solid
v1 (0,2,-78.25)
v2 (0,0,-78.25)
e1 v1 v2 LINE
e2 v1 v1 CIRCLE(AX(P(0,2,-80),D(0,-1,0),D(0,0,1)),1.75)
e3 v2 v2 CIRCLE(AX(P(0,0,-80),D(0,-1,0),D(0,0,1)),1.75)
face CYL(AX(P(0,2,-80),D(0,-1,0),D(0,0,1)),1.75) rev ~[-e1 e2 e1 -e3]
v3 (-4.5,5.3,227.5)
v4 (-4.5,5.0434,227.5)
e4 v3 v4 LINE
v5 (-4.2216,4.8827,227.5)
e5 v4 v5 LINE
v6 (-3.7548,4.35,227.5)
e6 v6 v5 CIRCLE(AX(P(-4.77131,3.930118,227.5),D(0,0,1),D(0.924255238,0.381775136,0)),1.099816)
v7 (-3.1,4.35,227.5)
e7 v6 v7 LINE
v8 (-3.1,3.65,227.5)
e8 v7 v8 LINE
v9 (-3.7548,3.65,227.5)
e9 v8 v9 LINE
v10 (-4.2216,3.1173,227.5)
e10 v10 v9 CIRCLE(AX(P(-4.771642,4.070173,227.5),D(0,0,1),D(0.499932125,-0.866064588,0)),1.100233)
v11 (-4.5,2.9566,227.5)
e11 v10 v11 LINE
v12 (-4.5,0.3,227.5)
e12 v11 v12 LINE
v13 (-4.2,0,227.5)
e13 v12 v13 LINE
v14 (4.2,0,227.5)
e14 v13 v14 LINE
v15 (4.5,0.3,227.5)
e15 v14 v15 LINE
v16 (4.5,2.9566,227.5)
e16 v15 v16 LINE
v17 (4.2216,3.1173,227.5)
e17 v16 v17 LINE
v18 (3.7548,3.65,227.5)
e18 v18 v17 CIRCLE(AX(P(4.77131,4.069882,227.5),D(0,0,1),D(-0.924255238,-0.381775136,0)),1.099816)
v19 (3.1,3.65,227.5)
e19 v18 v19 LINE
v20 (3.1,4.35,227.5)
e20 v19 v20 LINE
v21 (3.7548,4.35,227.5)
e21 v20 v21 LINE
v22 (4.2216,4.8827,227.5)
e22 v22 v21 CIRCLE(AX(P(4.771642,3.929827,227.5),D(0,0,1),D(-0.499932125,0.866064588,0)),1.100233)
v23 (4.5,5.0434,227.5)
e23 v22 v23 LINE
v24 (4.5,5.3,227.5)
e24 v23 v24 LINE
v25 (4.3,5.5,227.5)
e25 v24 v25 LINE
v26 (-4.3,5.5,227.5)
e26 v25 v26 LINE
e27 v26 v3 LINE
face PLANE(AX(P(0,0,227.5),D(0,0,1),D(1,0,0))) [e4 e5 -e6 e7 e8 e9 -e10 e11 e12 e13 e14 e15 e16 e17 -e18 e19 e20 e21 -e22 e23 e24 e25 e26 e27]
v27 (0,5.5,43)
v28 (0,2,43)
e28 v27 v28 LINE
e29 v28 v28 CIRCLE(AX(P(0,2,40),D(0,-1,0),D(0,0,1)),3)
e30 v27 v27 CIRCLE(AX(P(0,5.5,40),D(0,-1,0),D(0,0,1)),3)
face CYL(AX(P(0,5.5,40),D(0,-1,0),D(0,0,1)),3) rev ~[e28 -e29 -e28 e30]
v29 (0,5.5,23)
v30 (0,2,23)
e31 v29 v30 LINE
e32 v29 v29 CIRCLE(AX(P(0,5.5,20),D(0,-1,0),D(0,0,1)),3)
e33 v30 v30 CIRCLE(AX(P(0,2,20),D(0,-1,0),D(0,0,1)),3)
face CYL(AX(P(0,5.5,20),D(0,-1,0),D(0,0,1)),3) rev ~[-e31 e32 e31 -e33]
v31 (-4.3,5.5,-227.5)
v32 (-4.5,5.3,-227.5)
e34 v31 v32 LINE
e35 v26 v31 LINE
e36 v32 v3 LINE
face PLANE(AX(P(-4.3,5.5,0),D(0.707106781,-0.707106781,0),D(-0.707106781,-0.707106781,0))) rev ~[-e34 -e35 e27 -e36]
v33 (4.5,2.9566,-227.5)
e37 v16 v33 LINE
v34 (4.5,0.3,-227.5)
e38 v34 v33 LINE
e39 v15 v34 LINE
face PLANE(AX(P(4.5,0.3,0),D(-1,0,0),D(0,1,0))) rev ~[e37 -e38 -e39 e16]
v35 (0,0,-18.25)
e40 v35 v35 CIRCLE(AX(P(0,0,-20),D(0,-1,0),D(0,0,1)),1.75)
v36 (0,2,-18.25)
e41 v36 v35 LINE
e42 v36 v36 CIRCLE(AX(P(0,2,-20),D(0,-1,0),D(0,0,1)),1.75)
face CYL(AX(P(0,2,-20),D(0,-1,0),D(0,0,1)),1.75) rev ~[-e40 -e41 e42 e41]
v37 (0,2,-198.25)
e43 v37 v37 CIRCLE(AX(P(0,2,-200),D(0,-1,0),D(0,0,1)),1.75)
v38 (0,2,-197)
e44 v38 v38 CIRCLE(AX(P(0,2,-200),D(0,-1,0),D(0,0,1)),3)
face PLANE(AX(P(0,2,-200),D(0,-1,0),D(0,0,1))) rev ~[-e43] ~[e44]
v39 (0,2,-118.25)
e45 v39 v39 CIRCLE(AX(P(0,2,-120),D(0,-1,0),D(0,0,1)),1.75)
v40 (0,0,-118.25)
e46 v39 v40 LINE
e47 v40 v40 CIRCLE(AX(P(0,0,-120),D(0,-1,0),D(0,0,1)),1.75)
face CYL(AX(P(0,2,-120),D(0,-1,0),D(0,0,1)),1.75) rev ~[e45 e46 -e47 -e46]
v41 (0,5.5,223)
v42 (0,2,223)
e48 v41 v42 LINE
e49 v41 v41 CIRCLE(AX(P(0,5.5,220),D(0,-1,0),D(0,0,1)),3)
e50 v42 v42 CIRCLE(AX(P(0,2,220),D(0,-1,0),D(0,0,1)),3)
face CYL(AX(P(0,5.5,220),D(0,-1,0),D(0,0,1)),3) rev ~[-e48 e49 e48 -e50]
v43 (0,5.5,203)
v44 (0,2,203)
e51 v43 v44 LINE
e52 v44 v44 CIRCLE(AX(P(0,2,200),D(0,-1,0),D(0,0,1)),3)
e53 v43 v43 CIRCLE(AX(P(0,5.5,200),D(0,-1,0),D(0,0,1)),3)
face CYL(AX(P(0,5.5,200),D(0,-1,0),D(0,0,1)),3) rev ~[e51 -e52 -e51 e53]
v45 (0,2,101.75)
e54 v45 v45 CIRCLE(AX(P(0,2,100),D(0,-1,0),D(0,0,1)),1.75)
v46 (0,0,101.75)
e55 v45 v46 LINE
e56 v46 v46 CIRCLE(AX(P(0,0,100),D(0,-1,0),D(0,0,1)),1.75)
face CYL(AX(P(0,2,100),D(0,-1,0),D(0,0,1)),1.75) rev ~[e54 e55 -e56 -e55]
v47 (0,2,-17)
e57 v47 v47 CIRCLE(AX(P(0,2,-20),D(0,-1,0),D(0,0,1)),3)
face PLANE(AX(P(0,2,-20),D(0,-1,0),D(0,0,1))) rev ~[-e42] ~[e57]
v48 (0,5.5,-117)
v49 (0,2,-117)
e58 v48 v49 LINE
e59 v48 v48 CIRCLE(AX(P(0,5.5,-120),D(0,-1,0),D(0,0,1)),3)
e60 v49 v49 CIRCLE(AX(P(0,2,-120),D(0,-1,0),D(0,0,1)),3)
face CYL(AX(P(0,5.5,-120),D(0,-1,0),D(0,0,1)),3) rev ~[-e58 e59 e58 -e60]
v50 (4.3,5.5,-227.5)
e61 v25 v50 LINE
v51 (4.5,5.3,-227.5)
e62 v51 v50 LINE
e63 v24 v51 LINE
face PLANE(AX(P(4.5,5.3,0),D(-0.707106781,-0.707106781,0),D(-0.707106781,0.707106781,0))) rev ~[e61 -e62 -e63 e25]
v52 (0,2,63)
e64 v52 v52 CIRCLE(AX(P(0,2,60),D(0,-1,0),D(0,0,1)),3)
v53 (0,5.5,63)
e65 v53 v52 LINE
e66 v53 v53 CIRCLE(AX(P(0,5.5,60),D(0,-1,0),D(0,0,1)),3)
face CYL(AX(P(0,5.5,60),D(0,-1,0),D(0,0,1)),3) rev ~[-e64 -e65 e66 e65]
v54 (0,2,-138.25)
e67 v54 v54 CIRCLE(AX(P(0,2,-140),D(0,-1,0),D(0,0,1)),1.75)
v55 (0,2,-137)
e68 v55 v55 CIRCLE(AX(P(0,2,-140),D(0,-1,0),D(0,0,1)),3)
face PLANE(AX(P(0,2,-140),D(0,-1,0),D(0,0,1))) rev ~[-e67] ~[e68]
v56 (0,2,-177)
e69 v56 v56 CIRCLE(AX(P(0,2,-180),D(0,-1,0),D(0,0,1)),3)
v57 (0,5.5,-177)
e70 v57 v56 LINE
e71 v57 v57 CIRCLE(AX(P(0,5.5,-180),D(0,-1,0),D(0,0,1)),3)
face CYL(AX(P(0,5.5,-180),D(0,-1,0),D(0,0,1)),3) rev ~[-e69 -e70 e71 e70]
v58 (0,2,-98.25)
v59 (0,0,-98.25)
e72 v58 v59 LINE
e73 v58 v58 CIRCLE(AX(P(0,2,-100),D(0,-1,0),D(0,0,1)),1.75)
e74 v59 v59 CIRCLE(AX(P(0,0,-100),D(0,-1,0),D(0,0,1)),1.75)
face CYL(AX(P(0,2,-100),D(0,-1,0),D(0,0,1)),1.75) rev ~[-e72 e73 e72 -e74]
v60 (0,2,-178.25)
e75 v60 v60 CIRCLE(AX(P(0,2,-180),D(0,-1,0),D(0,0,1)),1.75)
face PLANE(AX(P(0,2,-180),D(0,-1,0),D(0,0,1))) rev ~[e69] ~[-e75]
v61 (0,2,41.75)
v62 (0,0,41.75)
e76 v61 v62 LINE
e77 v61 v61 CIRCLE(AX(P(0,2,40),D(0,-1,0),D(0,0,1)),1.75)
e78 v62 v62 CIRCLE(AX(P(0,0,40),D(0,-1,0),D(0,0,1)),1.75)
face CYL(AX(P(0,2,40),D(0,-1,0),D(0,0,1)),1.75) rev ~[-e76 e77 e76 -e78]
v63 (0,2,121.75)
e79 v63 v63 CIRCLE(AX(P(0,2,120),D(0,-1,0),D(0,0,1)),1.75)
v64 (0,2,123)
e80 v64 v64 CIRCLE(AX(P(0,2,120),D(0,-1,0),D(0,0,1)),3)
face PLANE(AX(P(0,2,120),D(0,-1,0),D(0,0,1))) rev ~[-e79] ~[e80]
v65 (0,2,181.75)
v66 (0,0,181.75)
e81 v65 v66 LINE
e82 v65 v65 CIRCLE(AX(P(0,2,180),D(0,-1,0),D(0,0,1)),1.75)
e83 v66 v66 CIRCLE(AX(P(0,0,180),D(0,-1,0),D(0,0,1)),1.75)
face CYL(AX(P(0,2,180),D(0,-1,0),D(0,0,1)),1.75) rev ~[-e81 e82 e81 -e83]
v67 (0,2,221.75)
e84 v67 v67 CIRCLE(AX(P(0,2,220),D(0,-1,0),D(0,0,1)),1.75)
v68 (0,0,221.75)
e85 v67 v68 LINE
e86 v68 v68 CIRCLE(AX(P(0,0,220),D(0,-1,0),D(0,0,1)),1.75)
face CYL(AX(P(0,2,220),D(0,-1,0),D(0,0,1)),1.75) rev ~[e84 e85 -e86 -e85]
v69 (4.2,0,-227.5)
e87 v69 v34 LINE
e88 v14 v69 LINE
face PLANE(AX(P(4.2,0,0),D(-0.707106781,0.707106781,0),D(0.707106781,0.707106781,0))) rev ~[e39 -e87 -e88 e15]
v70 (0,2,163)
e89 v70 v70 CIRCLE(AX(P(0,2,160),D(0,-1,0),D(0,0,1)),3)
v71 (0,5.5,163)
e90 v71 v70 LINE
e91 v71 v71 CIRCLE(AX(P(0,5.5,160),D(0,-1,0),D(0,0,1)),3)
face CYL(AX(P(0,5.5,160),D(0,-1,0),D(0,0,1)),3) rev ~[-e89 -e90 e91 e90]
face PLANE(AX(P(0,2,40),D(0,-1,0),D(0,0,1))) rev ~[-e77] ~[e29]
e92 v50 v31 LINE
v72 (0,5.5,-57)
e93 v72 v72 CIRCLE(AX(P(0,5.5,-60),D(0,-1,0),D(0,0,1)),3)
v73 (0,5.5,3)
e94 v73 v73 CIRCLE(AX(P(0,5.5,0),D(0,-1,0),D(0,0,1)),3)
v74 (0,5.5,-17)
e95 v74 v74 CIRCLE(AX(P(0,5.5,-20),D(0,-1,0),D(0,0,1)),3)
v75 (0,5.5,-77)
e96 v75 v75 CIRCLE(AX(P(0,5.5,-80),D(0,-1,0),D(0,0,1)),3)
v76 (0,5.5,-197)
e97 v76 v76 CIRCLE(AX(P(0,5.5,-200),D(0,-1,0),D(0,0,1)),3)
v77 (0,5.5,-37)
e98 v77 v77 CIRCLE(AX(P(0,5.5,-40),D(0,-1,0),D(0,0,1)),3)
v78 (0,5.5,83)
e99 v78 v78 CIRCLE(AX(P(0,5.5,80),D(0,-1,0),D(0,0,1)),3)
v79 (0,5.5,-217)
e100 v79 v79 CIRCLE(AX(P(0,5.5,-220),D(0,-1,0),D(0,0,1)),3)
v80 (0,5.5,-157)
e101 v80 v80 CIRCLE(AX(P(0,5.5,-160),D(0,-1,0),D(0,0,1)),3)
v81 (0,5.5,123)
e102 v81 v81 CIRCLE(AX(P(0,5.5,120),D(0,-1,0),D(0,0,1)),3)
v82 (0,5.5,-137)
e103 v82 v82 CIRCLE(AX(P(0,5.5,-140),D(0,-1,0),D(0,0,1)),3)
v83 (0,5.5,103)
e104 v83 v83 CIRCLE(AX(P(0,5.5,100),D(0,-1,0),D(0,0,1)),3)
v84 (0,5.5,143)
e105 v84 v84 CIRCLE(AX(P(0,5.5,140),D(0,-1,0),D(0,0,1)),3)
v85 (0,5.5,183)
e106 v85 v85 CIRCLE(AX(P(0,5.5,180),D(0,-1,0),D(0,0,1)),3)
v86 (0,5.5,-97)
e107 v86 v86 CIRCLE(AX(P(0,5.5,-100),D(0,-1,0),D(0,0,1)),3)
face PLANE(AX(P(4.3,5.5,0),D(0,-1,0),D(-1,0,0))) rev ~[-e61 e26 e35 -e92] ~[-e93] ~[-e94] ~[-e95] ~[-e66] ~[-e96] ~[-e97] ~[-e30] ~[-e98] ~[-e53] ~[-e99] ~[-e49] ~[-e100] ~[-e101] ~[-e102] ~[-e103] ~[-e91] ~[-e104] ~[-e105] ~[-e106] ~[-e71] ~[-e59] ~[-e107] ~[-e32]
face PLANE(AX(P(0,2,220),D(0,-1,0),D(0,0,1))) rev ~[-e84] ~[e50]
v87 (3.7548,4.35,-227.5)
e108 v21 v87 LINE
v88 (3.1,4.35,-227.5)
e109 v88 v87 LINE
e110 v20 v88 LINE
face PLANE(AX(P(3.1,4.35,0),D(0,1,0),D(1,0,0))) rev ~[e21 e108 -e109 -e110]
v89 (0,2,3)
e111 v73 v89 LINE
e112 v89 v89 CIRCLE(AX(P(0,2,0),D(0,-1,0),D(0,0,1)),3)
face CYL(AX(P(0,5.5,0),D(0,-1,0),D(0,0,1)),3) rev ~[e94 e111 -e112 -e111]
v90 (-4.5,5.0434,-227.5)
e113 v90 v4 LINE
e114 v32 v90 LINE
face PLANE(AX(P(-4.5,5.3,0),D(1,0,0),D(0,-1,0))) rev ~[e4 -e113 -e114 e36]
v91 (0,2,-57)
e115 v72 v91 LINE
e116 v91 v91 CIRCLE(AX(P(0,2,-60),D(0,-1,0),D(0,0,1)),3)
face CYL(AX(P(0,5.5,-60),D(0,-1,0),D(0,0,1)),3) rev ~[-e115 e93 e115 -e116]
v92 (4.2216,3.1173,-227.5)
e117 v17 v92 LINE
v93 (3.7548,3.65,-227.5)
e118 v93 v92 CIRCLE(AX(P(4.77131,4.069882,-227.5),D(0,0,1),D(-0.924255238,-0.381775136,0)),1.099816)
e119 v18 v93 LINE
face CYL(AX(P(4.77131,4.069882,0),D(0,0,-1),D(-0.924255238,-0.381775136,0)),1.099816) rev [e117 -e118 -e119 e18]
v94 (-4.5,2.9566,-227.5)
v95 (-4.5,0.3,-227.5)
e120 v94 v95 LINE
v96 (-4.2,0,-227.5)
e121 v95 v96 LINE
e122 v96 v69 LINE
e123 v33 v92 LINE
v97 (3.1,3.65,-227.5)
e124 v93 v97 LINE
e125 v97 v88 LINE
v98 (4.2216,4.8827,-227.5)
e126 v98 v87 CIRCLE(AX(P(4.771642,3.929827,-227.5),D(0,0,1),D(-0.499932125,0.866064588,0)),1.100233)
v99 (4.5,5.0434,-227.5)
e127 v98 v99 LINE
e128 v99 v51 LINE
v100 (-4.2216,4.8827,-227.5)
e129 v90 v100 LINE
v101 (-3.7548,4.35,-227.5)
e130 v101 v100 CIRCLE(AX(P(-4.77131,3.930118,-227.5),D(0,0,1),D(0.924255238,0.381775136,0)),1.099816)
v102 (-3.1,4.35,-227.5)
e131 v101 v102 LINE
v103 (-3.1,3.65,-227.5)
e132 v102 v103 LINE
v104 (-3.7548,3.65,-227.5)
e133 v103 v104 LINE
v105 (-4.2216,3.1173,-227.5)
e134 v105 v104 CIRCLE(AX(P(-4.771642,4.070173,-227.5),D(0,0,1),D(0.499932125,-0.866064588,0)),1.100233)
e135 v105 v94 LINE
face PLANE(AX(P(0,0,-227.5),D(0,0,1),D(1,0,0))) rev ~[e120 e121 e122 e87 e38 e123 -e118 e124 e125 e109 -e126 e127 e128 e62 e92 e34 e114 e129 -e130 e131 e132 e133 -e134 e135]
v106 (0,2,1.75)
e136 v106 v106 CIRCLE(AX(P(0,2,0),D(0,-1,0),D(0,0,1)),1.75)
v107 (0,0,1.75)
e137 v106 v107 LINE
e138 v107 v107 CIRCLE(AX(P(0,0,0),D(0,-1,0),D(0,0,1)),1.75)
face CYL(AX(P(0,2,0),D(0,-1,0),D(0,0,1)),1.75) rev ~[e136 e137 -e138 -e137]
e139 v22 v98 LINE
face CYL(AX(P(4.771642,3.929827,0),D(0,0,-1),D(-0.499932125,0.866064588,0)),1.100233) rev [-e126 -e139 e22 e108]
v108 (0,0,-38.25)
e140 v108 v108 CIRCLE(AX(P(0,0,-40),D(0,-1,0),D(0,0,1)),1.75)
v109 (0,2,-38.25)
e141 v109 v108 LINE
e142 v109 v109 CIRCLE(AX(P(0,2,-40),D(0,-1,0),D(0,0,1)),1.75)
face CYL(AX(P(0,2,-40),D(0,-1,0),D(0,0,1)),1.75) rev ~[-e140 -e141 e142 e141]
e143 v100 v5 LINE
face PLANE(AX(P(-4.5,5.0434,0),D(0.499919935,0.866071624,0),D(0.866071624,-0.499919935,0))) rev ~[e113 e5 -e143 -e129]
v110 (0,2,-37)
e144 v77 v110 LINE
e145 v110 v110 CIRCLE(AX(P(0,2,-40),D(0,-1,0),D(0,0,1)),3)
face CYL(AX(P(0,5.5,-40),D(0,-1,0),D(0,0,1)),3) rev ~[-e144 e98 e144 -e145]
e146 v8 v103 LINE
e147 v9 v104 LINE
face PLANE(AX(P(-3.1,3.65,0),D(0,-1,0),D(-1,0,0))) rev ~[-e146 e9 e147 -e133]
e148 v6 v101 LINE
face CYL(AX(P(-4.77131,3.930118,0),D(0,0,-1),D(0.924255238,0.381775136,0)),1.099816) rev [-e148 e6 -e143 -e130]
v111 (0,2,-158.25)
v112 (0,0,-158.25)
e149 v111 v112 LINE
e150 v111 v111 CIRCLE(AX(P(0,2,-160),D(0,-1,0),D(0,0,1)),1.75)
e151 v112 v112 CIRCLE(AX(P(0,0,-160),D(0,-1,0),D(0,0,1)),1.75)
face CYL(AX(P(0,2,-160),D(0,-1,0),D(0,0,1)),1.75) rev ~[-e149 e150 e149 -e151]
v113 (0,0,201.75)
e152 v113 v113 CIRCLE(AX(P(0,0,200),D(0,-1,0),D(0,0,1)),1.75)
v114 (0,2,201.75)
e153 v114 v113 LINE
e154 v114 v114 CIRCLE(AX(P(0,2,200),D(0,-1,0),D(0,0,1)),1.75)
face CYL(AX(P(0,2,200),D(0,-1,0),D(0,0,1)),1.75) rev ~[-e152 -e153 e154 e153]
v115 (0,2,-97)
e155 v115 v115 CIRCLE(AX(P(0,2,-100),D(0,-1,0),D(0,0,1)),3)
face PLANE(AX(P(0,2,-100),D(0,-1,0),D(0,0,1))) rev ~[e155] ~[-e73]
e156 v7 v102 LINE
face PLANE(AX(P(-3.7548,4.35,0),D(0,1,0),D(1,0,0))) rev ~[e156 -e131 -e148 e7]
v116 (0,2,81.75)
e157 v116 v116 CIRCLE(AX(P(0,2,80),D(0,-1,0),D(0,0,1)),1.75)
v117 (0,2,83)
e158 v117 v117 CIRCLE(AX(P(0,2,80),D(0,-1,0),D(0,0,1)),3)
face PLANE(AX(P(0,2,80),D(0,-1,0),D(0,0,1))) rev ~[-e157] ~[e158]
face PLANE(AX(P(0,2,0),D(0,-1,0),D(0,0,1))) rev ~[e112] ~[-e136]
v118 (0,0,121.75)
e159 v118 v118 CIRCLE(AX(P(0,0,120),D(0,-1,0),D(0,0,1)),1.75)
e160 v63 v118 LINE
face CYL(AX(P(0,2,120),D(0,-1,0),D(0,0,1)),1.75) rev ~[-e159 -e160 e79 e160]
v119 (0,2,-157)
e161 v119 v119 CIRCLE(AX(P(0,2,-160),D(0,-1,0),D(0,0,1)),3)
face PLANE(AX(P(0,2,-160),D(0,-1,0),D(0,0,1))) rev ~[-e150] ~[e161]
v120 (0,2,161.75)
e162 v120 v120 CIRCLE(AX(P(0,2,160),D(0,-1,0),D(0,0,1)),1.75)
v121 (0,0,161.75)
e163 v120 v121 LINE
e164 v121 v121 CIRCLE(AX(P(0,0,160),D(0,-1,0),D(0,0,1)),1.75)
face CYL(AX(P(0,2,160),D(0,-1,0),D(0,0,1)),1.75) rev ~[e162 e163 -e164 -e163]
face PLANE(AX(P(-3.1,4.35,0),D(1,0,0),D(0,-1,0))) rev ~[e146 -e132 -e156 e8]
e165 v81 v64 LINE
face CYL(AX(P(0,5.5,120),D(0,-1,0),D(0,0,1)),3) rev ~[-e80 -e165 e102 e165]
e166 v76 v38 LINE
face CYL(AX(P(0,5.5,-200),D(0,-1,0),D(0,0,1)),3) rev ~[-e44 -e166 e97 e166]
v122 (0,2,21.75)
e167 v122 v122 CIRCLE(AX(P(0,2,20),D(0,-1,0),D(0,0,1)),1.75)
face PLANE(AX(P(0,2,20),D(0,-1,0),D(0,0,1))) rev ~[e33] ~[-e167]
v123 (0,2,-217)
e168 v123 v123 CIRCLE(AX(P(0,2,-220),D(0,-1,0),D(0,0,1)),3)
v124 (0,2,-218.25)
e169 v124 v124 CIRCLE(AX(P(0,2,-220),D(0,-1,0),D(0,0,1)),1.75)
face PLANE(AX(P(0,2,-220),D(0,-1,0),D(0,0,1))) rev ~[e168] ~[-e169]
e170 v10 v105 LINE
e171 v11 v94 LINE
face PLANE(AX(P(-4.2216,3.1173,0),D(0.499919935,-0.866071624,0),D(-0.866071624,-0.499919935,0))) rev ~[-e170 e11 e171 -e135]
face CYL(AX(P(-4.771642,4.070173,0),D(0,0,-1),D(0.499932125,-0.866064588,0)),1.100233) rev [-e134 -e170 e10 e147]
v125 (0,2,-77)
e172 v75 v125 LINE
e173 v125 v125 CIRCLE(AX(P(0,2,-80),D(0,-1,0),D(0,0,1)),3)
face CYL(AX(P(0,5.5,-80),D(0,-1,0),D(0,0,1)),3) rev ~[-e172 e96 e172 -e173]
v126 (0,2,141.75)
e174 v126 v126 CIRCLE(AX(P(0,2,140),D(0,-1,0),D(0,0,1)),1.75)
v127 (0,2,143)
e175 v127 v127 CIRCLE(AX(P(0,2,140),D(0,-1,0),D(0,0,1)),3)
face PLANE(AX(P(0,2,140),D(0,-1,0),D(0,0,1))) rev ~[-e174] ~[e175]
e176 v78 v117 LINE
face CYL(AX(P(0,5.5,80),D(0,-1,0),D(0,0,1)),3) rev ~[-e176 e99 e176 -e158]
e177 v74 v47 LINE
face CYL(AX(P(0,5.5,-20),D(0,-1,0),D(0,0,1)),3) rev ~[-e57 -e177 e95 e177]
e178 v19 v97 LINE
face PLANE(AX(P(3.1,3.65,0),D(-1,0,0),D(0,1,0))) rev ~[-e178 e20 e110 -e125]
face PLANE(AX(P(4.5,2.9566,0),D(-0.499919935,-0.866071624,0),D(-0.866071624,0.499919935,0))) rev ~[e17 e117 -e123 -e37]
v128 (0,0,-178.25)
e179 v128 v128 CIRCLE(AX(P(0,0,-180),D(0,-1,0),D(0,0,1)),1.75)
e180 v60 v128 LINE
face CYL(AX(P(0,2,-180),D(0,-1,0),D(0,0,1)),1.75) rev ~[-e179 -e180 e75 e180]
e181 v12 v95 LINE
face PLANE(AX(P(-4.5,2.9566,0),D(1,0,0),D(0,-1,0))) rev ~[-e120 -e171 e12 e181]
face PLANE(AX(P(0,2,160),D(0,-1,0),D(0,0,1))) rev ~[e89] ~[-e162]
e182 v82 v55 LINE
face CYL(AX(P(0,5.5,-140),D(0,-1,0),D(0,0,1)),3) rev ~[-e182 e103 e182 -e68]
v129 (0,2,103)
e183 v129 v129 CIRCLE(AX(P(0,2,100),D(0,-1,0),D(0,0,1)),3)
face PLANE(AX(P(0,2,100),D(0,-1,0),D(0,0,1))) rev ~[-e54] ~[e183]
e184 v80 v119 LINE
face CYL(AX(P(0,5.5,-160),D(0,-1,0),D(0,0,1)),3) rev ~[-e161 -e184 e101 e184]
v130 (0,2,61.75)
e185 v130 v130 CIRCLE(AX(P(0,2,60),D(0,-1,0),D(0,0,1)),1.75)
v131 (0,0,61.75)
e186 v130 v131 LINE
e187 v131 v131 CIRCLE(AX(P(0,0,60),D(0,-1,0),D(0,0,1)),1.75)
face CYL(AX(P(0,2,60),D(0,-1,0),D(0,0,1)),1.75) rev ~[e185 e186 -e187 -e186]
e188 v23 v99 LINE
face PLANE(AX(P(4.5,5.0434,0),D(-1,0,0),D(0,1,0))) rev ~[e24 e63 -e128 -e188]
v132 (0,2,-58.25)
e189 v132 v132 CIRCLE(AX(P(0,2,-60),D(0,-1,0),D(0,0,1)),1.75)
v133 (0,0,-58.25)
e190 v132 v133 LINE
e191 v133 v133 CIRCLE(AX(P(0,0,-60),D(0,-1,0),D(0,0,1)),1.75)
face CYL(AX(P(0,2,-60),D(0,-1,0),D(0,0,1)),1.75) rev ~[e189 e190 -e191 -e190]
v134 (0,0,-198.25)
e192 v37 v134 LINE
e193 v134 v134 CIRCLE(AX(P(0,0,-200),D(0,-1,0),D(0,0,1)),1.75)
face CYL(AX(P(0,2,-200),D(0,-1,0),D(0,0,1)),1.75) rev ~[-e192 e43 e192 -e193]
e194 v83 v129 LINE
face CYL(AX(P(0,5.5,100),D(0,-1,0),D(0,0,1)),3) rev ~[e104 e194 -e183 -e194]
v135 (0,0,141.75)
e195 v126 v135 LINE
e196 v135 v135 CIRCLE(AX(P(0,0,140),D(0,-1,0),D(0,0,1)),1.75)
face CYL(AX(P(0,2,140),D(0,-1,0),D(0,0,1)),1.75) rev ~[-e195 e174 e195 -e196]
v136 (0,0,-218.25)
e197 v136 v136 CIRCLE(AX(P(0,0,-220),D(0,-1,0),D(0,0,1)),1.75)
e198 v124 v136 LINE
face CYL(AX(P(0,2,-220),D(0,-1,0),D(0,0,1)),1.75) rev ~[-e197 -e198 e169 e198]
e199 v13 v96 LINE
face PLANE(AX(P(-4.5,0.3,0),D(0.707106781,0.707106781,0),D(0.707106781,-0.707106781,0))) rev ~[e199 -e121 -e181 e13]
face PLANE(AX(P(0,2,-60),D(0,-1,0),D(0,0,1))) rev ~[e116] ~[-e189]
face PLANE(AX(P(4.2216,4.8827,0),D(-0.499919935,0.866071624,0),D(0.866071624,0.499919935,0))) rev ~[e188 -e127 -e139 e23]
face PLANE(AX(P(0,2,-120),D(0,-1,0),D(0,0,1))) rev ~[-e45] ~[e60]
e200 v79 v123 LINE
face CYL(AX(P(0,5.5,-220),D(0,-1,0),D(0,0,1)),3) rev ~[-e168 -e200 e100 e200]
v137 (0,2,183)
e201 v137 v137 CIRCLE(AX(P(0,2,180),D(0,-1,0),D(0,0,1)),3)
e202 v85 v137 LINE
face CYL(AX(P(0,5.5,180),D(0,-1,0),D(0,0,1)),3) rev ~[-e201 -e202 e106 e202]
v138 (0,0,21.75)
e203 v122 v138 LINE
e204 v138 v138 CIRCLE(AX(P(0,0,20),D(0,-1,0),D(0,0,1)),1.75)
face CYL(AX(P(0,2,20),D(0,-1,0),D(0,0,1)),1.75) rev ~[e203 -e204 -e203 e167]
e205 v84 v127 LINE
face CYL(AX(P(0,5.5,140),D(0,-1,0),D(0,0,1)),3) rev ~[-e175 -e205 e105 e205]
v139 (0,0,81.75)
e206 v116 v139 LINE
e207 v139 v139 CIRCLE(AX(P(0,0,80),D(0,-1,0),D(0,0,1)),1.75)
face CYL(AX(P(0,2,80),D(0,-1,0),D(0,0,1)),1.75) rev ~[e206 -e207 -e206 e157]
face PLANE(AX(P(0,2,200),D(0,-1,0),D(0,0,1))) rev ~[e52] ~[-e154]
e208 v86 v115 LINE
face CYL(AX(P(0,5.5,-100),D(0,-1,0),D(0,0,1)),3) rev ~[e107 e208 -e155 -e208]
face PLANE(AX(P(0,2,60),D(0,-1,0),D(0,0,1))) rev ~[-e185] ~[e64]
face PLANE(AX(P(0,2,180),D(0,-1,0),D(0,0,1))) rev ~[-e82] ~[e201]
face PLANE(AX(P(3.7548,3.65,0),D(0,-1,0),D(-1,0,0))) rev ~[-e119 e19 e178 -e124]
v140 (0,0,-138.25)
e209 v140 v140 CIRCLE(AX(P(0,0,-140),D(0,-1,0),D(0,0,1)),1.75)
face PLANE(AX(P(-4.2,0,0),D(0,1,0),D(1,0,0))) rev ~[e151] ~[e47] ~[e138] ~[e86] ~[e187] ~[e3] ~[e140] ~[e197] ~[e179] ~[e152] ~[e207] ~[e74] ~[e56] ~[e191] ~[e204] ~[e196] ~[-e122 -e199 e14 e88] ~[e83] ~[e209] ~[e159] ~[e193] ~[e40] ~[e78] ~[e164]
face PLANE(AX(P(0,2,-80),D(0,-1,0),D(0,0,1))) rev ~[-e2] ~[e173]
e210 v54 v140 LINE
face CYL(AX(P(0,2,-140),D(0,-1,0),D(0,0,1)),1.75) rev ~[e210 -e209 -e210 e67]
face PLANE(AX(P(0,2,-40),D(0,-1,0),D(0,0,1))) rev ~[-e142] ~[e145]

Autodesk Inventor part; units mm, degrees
sketch "Sketch_12" plane through (0, 0, 0) normal (0, 0, 1) x (1, 0, 0)
  line L0 (-4.5, 5.3) -> (-4.5, 5.0434)
  line L1 (-4.5, 5.0434) -> (-4.2216, 4.8827)
  arc A0 (-3.7548, 4.35) -> (-4.2216, 4.8827) centre (-4.7715, 3.93) ccw
  line L2 (-3.7548, 4.35) -> (-3.1, 4.35)
  line L3 (-3.1, 4.35) -> (-3.1, 3.65)
  line L4 (-3.1, 3.65) -> (-3.7548, 3.65)
  arc A1 (-4.2216, 3.1173) -> (-3.7548, 3.65) centre (-4.7715, 4.07) ccw
  line L5 (-4.2216, 3.1173) -> (-4.5, 2.9566)
  line L6 (-4.5, 2.9566) -> (-4.5, 0.3)
  line L7 (-4.5, 0.3) -> (-4.2, 0)
  line L8 (-4.2, 0) -> (4.2, 0)
  line L9 (4.2, 0) -> (4.5, 0.3)
  line L10 (4.5, 0.3) -> (4.5, 2.9566)
  line L11 (4.5, 2.9566) -> (4.2216, 3.1173)
  arc A2 (3.7548, 3.65) -> (4.2216, 3.1173) centre (4.7715, 4.07) ccw
  line L12 (3.7548, 3.65) -> (3.1, 3.65)
  line L13 (3.1, 3.65) -> (3.1, 4.35)
  line L14 (3.1, 4.35) -> (3.7548, 4.35)
  arc A3 (4.2216, 4.8827) -> (3.7548, 4.35) centre (4.7715, 3.93) ccw
  line L15 (4.2216, 4.8827) -> (4.5, 5.0434)
  line L16 (4.5, 5.0434) -> (4.5, 5.3)
  line L17 (4.5, 5.3) -> (4.3, 5.5)
  line L18 (4.3, 5.5) -> (-4.3, 5.5)
  line L19 (-4.3, 5.5) -> (-4.5, 5.3)
extrude "Extrusion1" add sketch "Sketch_12" along normal mid plane 455
sketch "Sketch2" plane through (-4.3, 5.5, 227.5) normal (0, 1, 0) x (1, 0, 0)
  point P0 (4.3, 447.5)
hole "Hole1" at (0, 5.5, -220) direction (0, -1, 0) diameter 3.5 depth 5.5 counterbore diameter 6 counterbore depth 3.5
pattern_linear "Rectangular Pattern1" count 23 spacing 20 along (0, 0, 1) of "Hole1"
ref_plane "rail_to_adjusting_block_XY" through (0, 0, -220) normal (0, 1, 0) x (1, 0, 0)
ref_plane "rail_to_adjusting_block_YZ" through (0, 0, -220) normal (1, 0, 0) x (0, 0, -1)
ref_plane "rail_to_adjusting_block_ZX" through (0, 0, -220) normal (0, 0, -1) x (0, 1, 0)
ref_plane "to_block_XY" through (0, 5.5, 113.75) normal (0, 0, 1) x (1, 0, 0)
ref_plane "to_block_YZ" through (0, 5.5, 113.75) normal (1, 0, 0) x (0, 1, 0)
ref_plane "to_block_ZX" through (0, 5.5, 113.75) normal (0, 1, 0) x (0, 0, 1)
ref_plane "to_block_2_XY" through (0, 5.5, -113.75) normal (0, 0, 1) x (1, 0, 0)
ref_plane "to_block_2_YZ" through (0, 5.5, -113.75) normal (1, 0, 0) x (0, 1, 0)
ref_plane "to_block_2_ZX" through (0, 5.5, -113.75) normal (0, 1, 0) x (0, 0, 1)
ref_plane "to_kue_XY" through (0, 0, 0) normal (0, 1, 0) x (1, 0, 0)
ref_plane "to_kue_YZ" through (0, 0, 0) normal (1, 0, 0) x (0, 0, -1)
ref_plane "to_kue_ZX" through (0, 0, 0) normal (0, 0, -1) x (0, 1, 0)
properties part number "SSE2B-MX10-455_r"
